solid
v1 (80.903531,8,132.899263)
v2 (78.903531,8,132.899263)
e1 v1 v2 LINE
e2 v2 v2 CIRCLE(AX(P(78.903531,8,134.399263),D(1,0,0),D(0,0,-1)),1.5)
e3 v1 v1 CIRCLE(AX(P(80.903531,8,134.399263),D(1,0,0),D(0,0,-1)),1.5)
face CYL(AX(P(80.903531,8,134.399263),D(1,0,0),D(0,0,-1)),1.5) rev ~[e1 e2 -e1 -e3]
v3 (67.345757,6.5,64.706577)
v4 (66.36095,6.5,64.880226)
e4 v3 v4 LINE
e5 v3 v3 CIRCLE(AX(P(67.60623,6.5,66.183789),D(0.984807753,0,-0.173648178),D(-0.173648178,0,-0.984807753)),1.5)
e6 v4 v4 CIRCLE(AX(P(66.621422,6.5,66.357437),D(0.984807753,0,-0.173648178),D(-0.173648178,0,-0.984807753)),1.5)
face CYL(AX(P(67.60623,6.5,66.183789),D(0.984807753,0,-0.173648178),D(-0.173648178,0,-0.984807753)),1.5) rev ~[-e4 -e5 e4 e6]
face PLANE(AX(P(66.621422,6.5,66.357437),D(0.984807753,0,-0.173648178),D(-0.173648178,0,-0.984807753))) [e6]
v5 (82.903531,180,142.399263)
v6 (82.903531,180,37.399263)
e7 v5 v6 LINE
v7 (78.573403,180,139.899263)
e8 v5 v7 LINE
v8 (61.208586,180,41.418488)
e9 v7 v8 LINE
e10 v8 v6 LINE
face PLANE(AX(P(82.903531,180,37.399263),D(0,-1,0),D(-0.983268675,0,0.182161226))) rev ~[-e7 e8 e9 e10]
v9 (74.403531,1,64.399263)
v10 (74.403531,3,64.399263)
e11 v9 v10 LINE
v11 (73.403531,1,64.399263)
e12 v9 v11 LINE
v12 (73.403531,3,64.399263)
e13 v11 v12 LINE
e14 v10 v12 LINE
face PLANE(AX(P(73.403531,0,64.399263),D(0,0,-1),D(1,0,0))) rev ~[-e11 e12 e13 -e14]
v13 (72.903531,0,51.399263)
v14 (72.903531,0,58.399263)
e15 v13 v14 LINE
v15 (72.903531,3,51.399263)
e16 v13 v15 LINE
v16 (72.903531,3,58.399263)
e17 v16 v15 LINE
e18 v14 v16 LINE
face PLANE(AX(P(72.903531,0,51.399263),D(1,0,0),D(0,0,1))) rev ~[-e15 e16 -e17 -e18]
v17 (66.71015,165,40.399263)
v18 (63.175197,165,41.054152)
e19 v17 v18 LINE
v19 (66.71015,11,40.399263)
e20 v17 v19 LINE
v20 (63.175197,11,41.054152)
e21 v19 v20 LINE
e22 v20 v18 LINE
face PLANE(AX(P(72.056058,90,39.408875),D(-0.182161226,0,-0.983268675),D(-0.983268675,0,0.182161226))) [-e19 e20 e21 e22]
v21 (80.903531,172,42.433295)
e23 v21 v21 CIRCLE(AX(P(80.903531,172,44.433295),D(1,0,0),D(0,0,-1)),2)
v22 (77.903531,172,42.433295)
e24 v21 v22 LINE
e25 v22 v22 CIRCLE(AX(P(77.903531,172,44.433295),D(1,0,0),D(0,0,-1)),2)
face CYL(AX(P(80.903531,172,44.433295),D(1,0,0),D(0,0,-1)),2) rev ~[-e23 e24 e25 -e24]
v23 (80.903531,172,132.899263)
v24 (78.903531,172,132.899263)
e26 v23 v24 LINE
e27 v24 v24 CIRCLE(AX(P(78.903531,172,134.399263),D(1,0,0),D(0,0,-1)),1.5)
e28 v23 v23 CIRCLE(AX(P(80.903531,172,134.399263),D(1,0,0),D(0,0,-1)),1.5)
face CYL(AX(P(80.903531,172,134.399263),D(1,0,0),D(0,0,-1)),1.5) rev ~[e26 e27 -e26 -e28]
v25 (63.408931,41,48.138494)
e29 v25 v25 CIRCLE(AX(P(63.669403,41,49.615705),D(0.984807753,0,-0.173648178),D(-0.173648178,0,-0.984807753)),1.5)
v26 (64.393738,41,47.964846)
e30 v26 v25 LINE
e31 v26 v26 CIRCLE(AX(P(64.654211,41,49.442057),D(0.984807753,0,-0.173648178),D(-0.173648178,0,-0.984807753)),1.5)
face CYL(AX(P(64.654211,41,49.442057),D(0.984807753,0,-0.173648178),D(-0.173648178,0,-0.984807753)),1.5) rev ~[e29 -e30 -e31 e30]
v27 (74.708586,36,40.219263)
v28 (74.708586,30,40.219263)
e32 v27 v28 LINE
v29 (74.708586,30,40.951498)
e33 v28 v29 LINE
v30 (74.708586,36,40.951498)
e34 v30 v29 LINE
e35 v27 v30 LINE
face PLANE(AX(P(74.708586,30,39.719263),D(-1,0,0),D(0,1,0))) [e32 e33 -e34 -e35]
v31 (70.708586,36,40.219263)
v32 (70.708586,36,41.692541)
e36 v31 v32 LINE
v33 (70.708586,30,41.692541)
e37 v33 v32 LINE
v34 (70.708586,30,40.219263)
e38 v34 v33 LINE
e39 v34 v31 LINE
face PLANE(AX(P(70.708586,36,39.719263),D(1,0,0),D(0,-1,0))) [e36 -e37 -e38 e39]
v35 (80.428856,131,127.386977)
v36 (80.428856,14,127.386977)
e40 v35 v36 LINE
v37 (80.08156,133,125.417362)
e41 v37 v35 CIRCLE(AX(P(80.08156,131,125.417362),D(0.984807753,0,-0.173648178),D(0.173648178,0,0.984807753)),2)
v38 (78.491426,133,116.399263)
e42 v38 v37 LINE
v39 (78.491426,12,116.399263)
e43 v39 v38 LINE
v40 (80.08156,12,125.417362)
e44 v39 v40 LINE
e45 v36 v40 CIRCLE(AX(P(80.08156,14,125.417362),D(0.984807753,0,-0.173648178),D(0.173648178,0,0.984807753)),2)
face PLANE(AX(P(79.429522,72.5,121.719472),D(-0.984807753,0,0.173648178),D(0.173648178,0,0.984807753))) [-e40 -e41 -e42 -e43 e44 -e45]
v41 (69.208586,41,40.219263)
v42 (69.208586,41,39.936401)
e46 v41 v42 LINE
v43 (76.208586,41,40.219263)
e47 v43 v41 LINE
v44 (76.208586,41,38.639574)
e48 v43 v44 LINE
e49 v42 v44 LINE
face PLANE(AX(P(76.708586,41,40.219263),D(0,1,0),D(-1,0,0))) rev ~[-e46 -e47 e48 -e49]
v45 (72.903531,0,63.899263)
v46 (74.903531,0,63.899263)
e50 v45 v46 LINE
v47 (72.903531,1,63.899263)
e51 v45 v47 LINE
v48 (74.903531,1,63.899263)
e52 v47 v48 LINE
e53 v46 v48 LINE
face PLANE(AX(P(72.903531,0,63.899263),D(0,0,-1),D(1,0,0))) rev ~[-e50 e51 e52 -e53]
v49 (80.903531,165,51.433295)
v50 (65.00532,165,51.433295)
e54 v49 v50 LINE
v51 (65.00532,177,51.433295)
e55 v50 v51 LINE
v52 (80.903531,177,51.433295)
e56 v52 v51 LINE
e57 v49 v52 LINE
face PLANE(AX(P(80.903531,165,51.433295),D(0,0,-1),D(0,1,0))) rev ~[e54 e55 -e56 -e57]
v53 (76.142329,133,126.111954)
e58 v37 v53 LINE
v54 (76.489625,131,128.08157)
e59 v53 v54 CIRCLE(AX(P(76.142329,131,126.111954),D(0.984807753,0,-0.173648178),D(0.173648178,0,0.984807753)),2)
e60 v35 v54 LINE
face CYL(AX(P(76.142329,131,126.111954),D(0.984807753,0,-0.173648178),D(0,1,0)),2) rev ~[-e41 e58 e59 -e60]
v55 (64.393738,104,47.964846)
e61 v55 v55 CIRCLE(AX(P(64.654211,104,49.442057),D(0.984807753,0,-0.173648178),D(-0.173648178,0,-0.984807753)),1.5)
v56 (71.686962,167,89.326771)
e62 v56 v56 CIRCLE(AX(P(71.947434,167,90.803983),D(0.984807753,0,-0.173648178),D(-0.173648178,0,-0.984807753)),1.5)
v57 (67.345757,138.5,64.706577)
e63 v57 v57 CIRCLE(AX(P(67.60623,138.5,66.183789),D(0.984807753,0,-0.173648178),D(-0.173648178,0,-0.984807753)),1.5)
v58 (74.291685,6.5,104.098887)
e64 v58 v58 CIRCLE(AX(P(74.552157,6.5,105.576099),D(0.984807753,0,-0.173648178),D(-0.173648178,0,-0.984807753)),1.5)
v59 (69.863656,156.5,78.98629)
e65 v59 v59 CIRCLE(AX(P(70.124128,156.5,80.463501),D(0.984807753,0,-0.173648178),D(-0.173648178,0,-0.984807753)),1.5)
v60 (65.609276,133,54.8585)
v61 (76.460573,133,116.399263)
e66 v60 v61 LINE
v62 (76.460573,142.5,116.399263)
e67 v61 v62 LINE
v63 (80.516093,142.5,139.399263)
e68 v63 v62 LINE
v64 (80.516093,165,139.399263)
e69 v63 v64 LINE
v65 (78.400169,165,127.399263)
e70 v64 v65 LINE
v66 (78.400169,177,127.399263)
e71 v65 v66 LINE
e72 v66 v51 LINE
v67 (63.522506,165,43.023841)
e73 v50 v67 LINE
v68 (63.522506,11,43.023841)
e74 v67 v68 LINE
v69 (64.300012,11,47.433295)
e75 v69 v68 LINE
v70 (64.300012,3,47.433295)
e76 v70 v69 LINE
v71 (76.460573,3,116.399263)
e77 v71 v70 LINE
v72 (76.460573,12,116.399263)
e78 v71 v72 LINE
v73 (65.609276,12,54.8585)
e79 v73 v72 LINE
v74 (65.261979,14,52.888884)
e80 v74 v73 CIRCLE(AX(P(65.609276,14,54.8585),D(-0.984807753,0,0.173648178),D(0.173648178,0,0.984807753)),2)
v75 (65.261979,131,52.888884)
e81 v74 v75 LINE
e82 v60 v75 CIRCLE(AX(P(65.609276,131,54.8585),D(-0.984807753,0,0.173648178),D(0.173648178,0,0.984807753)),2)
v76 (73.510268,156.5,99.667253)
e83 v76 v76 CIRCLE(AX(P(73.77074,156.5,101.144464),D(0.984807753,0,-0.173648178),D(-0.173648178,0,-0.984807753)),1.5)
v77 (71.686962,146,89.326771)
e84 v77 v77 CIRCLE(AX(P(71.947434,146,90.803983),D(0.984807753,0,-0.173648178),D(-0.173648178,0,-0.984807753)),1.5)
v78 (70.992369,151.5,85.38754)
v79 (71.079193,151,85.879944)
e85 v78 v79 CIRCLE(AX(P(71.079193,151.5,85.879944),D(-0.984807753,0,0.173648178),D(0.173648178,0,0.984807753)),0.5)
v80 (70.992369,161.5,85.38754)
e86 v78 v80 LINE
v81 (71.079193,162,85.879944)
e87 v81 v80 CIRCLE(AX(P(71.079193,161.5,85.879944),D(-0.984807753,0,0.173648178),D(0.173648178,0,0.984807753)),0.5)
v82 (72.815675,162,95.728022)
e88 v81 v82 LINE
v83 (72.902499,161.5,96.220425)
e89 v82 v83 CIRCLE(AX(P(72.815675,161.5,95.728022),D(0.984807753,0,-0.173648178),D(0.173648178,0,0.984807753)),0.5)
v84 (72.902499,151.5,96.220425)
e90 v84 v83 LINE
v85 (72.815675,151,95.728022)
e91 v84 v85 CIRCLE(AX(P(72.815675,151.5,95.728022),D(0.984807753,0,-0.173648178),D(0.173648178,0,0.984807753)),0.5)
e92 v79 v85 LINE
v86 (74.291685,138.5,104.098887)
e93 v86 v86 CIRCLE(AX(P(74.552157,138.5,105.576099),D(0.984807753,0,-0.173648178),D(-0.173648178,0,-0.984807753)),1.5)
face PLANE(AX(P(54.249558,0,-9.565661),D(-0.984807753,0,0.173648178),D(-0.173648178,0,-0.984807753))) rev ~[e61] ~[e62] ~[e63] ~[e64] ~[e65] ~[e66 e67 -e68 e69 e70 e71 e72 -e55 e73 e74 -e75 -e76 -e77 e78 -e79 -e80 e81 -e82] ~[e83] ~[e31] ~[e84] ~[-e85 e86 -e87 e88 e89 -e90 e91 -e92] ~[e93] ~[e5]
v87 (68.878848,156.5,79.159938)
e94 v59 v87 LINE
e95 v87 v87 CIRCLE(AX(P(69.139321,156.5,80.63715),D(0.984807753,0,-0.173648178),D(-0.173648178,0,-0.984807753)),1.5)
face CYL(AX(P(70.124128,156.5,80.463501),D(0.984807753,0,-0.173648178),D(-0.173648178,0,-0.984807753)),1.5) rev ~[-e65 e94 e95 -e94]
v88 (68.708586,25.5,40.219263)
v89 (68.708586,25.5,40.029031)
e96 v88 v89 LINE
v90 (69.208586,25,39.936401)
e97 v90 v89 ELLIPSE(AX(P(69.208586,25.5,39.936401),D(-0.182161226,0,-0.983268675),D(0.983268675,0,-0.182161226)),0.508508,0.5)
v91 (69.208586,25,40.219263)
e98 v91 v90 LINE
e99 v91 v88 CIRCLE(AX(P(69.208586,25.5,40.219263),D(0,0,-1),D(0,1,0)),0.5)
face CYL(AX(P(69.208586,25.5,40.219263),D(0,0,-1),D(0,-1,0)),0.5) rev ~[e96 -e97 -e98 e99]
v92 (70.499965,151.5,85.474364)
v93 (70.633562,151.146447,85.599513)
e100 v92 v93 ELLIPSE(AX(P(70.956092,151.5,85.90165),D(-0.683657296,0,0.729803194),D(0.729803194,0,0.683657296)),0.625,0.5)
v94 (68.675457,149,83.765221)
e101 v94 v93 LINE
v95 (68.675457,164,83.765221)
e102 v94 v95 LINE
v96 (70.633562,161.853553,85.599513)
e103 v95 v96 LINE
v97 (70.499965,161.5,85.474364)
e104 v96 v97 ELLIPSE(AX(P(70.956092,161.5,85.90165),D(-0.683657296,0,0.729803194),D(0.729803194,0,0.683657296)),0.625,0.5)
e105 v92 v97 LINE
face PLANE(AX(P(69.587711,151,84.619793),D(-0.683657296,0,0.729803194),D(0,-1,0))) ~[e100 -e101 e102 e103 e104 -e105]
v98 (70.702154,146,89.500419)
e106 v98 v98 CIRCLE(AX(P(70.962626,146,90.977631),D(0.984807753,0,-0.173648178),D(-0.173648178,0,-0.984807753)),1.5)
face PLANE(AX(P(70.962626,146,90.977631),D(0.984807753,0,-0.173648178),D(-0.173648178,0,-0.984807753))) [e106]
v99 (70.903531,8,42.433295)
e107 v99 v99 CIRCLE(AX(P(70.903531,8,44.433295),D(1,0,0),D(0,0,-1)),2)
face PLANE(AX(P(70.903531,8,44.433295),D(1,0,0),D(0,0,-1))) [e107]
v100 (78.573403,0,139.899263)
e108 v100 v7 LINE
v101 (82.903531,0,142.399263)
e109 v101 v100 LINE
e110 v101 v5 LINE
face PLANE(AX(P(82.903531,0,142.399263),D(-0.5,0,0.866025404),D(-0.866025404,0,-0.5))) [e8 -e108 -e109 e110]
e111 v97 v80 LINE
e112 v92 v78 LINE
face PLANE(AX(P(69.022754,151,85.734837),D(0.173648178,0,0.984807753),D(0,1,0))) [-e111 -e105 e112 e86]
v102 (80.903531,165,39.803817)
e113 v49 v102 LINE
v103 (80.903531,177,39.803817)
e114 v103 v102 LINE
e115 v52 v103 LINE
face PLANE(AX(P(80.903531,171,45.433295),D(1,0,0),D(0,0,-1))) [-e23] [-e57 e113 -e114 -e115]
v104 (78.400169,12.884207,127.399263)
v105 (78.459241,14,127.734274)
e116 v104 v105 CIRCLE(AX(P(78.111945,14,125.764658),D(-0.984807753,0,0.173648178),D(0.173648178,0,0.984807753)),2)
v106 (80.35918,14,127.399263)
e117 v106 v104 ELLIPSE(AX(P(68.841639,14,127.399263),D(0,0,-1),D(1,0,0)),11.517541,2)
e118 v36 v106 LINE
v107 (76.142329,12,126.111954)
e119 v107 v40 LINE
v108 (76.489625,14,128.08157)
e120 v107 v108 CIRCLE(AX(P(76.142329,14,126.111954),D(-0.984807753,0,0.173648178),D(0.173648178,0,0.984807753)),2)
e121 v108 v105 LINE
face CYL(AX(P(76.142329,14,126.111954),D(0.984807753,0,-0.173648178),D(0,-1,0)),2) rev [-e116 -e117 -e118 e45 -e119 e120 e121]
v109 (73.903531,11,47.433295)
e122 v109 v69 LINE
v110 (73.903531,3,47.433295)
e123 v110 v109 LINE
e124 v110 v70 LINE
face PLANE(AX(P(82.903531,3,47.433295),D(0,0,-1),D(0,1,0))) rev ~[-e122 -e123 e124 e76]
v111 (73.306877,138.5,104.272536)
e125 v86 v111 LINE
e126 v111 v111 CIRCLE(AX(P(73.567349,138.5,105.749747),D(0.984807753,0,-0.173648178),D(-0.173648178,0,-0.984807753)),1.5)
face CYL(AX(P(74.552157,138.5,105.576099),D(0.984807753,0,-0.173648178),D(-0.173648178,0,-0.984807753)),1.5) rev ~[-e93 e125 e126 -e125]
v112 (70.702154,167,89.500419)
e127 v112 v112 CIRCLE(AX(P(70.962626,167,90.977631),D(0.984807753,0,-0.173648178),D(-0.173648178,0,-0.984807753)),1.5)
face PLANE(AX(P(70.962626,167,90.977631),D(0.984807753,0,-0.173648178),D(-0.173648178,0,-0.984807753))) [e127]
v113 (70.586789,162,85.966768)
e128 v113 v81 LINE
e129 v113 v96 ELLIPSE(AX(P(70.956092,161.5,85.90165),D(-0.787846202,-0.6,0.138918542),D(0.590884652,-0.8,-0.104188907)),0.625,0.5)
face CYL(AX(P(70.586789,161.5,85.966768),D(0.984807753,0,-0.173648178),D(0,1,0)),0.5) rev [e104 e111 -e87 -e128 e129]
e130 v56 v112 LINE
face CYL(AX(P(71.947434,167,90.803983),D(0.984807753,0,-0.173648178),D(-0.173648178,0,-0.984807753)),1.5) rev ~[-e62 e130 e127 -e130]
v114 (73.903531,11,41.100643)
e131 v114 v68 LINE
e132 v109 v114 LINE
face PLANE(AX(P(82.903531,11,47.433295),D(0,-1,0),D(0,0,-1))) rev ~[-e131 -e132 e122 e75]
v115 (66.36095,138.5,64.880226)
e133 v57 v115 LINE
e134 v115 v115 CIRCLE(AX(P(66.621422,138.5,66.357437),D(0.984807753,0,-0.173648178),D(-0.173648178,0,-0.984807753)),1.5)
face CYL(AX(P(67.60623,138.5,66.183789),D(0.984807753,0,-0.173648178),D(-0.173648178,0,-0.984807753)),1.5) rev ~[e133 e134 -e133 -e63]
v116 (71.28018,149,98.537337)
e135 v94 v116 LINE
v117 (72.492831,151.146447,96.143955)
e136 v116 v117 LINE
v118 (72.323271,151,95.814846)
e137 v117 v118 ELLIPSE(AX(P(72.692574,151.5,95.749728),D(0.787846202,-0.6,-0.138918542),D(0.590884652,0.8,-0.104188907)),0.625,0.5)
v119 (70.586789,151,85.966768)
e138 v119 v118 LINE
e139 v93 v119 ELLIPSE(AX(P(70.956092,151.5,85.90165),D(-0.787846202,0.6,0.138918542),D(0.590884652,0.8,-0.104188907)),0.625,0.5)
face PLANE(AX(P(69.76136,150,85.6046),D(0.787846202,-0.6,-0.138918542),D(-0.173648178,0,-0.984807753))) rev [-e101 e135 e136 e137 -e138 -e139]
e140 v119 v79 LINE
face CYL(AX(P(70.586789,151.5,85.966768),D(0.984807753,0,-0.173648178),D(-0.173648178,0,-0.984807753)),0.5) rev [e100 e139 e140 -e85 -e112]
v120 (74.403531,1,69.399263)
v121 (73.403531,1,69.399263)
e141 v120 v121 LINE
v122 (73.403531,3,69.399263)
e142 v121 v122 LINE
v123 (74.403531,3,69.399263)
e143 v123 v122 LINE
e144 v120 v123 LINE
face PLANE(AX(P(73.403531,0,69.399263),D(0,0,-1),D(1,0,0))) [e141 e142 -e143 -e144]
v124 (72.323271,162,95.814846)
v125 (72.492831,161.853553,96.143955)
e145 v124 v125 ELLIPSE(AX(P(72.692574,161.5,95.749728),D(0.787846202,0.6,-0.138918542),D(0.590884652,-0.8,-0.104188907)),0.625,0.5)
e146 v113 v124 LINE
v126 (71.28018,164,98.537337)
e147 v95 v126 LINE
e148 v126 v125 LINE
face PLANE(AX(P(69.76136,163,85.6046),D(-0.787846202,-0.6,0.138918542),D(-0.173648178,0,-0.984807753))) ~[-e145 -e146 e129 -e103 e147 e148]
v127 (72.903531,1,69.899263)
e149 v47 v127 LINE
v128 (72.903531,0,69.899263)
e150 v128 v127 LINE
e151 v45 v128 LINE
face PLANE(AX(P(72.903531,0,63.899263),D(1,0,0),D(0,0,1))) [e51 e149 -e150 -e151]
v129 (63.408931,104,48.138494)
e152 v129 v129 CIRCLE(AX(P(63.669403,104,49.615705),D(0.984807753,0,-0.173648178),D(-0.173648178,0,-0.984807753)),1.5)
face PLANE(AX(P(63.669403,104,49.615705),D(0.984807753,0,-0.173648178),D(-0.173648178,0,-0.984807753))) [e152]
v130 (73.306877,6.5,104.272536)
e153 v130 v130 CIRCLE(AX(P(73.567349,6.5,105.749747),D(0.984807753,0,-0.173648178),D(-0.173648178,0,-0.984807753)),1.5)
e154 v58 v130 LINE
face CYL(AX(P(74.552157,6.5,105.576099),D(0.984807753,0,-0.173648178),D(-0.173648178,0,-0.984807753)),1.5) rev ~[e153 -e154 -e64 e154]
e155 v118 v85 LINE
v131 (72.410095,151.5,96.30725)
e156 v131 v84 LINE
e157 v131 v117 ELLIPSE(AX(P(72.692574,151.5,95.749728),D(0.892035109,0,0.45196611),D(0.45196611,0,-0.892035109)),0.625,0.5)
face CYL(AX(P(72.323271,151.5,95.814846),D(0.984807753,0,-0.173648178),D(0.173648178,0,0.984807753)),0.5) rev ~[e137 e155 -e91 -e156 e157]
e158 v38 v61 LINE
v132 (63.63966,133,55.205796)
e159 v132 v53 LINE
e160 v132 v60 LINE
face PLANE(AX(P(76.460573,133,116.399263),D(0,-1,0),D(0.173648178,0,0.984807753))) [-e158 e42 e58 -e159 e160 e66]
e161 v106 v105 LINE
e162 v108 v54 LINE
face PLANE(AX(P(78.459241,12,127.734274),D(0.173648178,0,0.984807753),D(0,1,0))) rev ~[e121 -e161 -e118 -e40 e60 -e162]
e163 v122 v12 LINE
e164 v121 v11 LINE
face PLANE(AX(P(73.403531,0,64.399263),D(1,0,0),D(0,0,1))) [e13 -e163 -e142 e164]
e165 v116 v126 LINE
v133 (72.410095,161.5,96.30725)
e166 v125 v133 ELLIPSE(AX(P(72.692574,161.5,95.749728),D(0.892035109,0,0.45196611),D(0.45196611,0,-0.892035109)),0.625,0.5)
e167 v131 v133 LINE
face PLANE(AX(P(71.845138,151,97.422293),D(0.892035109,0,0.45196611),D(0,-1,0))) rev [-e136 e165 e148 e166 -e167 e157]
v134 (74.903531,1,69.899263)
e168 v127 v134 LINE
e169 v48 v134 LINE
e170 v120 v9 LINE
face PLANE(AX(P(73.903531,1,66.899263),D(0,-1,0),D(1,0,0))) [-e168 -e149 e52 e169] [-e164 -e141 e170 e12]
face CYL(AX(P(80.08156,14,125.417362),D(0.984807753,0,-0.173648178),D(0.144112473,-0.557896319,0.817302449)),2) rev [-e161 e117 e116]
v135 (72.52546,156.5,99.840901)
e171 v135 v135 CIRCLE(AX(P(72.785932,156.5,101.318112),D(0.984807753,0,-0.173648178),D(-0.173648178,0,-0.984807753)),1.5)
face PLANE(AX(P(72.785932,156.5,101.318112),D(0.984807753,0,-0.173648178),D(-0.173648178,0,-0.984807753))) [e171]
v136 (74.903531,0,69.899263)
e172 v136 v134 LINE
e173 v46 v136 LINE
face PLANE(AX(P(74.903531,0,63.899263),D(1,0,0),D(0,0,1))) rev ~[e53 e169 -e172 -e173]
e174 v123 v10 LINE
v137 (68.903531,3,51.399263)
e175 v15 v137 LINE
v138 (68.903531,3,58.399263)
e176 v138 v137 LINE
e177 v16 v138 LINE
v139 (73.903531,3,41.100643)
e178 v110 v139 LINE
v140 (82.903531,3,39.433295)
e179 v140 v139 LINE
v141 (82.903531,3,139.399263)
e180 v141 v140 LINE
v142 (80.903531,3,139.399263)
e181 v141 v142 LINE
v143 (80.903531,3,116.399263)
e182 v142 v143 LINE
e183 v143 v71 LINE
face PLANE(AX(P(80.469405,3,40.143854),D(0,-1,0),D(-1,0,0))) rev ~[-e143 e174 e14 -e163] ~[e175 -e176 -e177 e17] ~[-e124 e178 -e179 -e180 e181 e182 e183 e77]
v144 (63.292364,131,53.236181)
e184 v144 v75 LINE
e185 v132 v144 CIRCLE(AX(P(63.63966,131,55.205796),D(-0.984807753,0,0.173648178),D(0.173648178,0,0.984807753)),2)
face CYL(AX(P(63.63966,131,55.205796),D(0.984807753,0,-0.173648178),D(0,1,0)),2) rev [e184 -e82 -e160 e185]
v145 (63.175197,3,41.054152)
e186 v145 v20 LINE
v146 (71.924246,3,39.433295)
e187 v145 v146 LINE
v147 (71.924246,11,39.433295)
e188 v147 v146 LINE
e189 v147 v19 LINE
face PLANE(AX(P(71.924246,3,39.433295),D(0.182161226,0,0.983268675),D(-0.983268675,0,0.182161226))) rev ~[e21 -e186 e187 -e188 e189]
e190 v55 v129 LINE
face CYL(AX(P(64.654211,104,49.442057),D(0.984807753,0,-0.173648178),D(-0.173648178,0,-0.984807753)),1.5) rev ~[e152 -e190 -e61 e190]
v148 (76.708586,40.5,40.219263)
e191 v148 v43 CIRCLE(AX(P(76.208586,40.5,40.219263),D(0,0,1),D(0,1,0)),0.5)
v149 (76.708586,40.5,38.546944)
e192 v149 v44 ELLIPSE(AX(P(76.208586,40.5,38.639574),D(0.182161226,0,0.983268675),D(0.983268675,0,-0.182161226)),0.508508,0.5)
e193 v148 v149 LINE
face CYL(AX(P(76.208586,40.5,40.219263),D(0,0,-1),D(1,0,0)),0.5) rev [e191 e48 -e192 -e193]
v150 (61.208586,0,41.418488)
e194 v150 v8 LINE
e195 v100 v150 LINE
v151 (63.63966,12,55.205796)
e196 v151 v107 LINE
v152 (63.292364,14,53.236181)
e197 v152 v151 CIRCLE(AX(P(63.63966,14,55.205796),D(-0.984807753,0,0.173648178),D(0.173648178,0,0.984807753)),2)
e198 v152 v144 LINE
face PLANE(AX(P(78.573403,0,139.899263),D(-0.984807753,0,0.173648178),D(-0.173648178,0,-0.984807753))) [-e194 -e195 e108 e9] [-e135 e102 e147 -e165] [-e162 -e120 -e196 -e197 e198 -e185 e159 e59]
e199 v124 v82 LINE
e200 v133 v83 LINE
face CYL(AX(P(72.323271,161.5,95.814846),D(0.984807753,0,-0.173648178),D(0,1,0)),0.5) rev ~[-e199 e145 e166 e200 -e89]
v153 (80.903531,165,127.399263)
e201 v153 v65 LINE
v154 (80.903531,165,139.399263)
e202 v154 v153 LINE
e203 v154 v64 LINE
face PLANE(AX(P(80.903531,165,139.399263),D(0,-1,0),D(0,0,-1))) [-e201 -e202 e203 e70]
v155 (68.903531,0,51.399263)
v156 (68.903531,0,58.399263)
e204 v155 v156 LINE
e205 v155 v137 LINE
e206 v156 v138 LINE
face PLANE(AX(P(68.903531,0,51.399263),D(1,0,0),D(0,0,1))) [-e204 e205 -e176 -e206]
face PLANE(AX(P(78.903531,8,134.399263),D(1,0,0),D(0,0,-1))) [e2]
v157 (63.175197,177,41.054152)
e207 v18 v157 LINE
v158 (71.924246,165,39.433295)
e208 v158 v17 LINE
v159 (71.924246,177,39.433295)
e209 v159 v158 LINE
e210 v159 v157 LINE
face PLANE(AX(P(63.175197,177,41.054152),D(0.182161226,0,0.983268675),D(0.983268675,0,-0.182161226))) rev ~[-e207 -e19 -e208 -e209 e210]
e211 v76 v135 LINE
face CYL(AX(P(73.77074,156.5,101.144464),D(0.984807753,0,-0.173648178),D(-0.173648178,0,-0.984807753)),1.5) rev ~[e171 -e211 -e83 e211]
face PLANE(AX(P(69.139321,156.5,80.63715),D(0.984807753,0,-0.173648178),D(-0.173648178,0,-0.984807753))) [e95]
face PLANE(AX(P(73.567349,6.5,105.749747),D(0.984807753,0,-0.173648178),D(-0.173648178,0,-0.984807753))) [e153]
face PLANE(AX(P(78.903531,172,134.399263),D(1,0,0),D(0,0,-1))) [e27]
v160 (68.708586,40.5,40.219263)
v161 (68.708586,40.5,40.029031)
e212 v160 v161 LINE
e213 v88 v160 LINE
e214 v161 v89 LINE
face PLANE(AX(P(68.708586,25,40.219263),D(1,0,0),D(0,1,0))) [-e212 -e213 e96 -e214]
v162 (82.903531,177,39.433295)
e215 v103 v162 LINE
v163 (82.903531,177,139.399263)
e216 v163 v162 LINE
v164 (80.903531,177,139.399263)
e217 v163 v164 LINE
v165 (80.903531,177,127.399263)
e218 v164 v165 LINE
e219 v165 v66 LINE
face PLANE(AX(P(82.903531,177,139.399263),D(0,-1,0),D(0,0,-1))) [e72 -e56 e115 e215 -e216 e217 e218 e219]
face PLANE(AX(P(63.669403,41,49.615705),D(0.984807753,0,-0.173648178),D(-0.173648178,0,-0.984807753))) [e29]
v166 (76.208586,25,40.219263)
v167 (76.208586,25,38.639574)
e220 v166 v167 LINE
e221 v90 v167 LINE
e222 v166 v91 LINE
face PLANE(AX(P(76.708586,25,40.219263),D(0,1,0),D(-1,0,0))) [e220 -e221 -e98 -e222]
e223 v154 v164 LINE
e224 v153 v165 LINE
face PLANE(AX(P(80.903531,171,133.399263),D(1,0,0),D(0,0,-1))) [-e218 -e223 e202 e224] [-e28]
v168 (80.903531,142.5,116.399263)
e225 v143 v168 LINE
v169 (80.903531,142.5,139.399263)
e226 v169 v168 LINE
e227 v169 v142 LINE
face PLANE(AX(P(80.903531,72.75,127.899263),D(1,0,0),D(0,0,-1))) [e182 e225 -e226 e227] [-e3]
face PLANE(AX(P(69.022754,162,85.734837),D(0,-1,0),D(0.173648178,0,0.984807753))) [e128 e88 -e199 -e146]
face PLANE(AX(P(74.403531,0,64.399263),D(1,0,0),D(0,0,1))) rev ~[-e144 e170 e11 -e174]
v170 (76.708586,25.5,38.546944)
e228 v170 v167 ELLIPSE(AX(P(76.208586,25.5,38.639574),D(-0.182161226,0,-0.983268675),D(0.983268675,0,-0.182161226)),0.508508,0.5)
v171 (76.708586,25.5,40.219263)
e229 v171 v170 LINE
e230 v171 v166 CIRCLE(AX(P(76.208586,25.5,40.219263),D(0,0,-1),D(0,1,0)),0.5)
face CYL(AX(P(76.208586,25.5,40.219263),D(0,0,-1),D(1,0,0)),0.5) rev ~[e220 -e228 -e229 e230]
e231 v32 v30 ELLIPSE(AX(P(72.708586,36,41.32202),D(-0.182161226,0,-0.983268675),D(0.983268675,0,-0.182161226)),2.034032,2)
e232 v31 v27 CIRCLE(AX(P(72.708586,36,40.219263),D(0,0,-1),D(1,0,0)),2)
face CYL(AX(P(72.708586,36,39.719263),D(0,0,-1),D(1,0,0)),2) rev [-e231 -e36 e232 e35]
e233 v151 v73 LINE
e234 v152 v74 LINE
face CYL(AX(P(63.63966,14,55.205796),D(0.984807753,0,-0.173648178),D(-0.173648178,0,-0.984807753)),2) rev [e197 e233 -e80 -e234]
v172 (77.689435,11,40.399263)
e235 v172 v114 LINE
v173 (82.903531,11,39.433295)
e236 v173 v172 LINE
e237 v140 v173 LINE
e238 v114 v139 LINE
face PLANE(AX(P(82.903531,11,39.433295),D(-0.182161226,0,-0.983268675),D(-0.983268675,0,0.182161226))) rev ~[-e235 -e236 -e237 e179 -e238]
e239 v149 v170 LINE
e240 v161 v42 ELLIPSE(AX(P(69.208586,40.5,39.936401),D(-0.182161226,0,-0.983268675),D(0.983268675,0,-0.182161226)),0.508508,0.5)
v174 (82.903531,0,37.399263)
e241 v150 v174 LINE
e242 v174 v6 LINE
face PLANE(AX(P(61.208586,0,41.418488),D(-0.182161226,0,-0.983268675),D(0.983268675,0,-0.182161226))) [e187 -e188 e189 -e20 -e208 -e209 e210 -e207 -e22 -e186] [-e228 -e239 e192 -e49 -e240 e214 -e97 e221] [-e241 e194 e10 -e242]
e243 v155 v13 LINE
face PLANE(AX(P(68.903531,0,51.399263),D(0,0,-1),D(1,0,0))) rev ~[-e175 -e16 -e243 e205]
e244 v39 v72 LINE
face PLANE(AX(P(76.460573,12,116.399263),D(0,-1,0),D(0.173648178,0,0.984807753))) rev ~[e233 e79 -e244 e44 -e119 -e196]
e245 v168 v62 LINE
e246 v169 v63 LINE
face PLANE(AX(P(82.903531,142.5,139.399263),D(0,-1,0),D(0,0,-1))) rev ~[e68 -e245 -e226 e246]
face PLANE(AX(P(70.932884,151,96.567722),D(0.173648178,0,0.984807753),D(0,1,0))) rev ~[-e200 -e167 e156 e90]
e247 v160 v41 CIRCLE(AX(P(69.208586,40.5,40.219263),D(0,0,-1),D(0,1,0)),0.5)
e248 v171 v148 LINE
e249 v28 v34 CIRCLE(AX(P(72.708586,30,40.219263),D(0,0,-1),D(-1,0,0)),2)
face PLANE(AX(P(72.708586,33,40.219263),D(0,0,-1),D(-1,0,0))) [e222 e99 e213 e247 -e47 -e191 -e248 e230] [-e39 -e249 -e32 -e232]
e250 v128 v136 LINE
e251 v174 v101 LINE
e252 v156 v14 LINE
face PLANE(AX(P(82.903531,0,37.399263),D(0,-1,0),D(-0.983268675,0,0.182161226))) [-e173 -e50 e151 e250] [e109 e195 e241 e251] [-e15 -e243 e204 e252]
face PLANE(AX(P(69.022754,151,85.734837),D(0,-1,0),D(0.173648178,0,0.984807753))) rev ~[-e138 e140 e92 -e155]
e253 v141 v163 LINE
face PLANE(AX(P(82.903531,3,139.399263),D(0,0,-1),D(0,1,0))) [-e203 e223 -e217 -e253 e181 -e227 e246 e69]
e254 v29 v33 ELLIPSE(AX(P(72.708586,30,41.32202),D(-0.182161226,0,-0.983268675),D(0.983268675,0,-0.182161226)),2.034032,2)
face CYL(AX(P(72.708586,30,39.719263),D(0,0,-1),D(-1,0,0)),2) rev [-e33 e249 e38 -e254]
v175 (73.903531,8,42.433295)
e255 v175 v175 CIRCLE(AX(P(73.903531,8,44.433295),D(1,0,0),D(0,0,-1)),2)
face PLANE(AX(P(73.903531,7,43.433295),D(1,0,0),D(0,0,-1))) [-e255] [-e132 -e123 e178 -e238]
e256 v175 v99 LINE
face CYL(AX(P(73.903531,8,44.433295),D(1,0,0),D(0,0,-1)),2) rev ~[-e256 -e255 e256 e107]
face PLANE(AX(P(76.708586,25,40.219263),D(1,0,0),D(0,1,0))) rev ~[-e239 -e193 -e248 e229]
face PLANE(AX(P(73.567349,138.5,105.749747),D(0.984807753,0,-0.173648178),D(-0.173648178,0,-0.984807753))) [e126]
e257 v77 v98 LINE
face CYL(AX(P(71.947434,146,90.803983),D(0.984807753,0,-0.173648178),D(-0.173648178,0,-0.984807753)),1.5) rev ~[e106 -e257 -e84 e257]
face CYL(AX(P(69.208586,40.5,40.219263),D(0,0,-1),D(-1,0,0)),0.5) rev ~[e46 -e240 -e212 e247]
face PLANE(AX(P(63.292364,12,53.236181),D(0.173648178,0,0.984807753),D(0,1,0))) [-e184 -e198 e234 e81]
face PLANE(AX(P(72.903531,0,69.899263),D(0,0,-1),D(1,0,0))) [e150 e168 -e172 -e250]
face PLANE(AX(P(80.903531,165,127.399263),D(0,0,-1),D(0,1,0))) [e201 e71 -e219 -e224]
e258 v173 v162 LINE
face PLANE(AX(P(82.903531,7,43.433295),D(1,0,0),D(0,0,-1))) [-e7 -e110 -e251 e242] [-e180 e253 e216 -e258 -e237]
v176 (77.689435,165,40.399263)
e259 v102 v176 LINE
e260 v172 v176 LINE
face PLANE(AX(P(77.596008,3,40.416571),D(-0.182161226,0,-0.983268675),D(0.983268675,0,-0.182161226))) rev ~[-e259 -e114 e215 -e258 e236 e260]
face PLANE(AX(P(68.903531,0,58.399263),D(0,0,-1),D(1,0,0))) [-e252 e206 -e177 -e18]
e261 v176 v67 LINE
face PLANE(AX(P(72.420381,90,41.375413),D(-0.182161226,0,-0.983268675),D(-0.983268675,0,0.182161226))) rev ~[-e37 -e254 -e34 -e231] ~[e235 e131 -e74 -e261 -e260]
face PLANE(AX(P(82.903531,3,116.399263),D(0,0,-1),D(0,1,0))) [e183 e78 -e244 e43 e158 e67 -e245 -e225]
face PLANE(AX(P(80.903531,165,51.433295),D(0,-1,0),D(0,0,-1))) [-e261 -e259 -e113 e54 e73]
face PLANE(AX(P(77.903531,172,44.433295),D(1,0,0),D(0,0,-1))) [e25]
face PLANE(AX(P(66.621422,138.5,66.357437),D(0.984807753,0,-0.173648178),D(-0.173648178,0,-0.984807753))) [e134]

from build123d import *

# Parameters (mm, degrees)
EXTRUDE_1_DEPTH      = 180
SKETCH_5_W           = 76
SKETCH_5_H           = 121
CUT_EXTRUDE_2_DEPTH  = 2
CUT_EXTRUDE_3_REACH  = 232.539
SKETCH_7_W           = 99
SKETCH_7_H           = 174
SKETCH_10_R          = 1.5
CUT_EXTRUDE_5_DEPTH  = 1
SKETCH_11_R          = 1.5
CUT_EXTRUDE_6_DEPTH  = 1
EXTRUDE_3_REACH      = 232.539
SKETCH_12_W          = 23
SKETCH_12_H          = 139.5
SKETCH_13_W          = 11.509871418
SKETCH_13_H          = 121
CUT_EXTRUDE_7_DEPTH  = 2
SKETCH_14_W          = 11
SKETCH_14_H          = 11
CUT_EXTRUDE_8_DEPTH  = 2
SKETCH_17_W          = 22.064106518
SKETCH_17_H          = 180
EXTRUDE_9_DEPTH      = 2
CUT_EXTRUDE_9_DEPTH  = 180
CUT_EXTRUDE_10_DEPTH = 174
SKETCH_20_W          = 23
SKETCH_20_H          = 139.5
CUT_EXTRUDE_11_DEPTH = 2
SKETCH_21_R          = 1.5
CUT_EXTRUDE_12_DEPTH = 1
EXTRUDE_10_REACH     = 232.359
SKETCH_23_W          = 12
SKETCH_23_H          = 12
FILLET_4_R           = 2
CUT_EXTRUDE_15_REACH = 243.825
EXTRUDE_11_REACH     = 232.539
SKETCH_27_W          = 8
SKETCH_27_H          = 8
SKETCH_28_W          = 8
SKETCH_28_H          = 8
CUT_EXTRUDE_16_DEPTH = 9
EXTRUDE_12_DEPTH     = 8
CUT_EXTRUDE_17_REACH = 243.825
CUT_EXTRUDE_18_REACH = 246.03
SKETCH_31_W          = 4
SKETCH_31_H          = 7
CUT_EXTRUDE_23_REACH = 225.195
CUT_EXTRUDE_25_REACH = 224.966
SKETCH_35_W          = 8
SKETCH_35_H          = 16
FILLET_5_R           = 0.5
CUT_EXTRUDE_26_REACH = 246.03
SKETCH_36_W          = 1
SKETCH_36_H          = 5
SKETCH_37_W          = 2
SKETCH_37_H          = 6
CUT_EXTRUDE_27_DEPTH = 1
SKETCH_38_R          = 2
CUT_EXTRUDE_28_DEPTH = 3
SKETCH_39_R          = 2
CUT_EXTRUDE_30_DEPTH = 3
SKETCH_40_R          = 1.5
CUT_EXTRUDE_31_DEPTH = 2
CUT_EXTRUDE_START    = -2
CUT_EXTRUDE_34_DEPTH = 2
CHAMFER_1_SIZE       = 2
CHAMFER_1_SIZE2      = 1.5
FILLET_6_R           = 0.5


with BuildPart() as part:
    # 草图1 → 凸台-拉伸1 (new body)
    with BuildSketch(Plane(origin=(0, 0, 0), x_dir=(1, 0, 0), z_dir=(0, 1, 0))):
        Polygon((82.903530501, -37.399262949), (82.903530501, -142.399262949), (78.573403482, -139.899262949), (61.208585715, -41.418487648), align=None)
    extrude(amount=EXTRUDE_1_DEPTH)

    # 草图5 → 切除-拉伸2 (cut)
    with BuildSketch(Plane(origin=(52.279942479, 0, -9.218364409), x_dir=(0.17364817766692414, 0, 0.9848077530122091), z_dir=(-0.9848077530122091, 0, 0.17364817766692414))):
        with Locations((101.418007121, 72.5)):
            Rectangle(SKETCH_5_W, SKETCH_5_H)
    extrude(amount=-CUT_EXTRUDE_2_DEPTH, mode=Mode.SUBTRACT)

    # 切除-拉伸3: up to this plane
    cut_extrude_3_end = Plane(origin=(54.249557985, 0, -9.565660764), z_dir=(-0.9848077530122091, 0, 0.17364817766692406))
    # 草图7 → 切除-拉伸3 (cut, up to the surface)
    with BuildSketch(Plane(origin=(82.903530501, 0, 0), x_dir=(0, 0, -1), z_dir=(1, 0, 0)), mode=Mode.PRIVATE) as cut_extrude_3_sk1:
        with Locations((-89.899262949, 90)):
            Rectangle(SKETCH_7_W, SKETCH_7_H)
    cut_extrude_3_tool1 = split(extrude(cut_extrude_3_sk1.sketch, amount=-CUT_EXTRUDE_3_REACH, mode=Mode.PRIVATE), bisect_by=cut_extrude_3_end, keep=Keep.BOTH, mode=Mode.PRIVATE)
    add(cut_extrude_3_tool1.solids().sort_by_distance((82.903531, 90, 89.899263))[0], mode=Mode.SUBTRACT)

    # 草图10 → 切除-拉伸5 (cut)
    with BuildSketch(Plane(origin=(54.249557985, 0, -9.565660764), x_dir=(-0.1736481776669242, 0, -0.9848077530122091), z_dir=(0.9848077530122091, 0, -0.1736481776669242))):
        with Locations((-59.918007121, 104)):
            Circle(SKETCH_10_R)
        with Locations((-59.918007121, 41)):
            Circle(SKETCH_10_R)
    extrude(amount=-CUT_EXTRUDE_5_DEPTH, mode=Mode.SUBTRACT)

    # 草图11 → 切除-拉伸6 (cut)
    with BuildSketch(Plane(origin=(54.249557985, 0, -9.565660764), x_dir=(-0.1736481776669242, 0, -0.9848077530122091), z_dir=(0.9848077530122091, 0, -0.1736481776669242))):
        with Locations((-116.918007121, 138.5)):
            Circle(SKETCH_11_R)
        with Locations((-76.918007121, 138.5)):
            Circle(SKETCH_11_R)
        with Locations((-116.918007121, 6.5)):
            Circle(SKETCH_11_R)
        with Locations((-76.918007121, 6.5)):
            Circle(SKETCH_11_R)
    extrude(amount=-CUT_EXTRUDE_6_DEPTH, mode=Mode.SUBTRACT)

    # 凸台-拉伸3: up to this plane
    extrude_3_end = Plane(origin=(54.249557985, 0, -9.565660764), z_dir=(-0.9848077530122091, 0, 0.17364817766692406))
    # 草图12 → 凸台-拉伸3 (add, up to the surface)
    with BuildSketch(Plane(origin=(82.903530501, 0, 0), x_dir=(0, 0, -1), z_dir=(1, 0, 0)), mode=Mode.PRIVATE) as extrude_3_sk1:
        with Locations((-127.899262949, 72.75)):
            Rectangle(SKETCH_12_W, SKETCH_12_H)
    extrude_3_tool1 = split(extrude(extrude_3_sk1.sketch, amount=-EXTRUDE_3_REACH, mode=Mode.PRIVATE), bisect_by=extrude_3_end, keep=Keep.BOTH, mode=Mode.PRIVATE)
    add(extrude_3_tool1.solids().sort_by_distance((82.903531, 72.75, 127.899263))[0])

    # 草图13 → 切除-拉伸7 (cut)
    with BuildSketch(Plane(origin=(54.249557985, 0, -9.565660764), x_dir=(0.1736481776669242, 0, 0.9848077530122091), z_dir=(-0.9848077530122091, 0, 0.1736481776669242))):
        with Locations((133.663071412, 72.5)):
            Rectangle(SKETCH_13_W, SKETCH_13_H)
    extrude(amount=-CUT_EXTRUDE_7_DEPTH, mode=Mode.SUBTRACT)

    # 草图14 → 切除-拉伸8 (cut)
    with BuildSketch(Plane(origin=(52.279942479, 0, -9.218364409), x_dir=(0.17364817766692414, 0, 0.9848077530122091), z_dir=(-0.9848077530122091, 0, 0.17364817766692414))):
        with Locations((101.918007121, 156.5)):
            Rectangle(SKETCH_14_W, SKETCH_14_H)
    extrude(amount=-CUT_EXTRUDE_8_DEPTH, mode=Mode.SUBTRACT)

    # 草图17 → 凸台-拉伸9 (add)
    with BuildSketch(Plane(origin=(9.44967418, 0, 51.007389472), x_dir=(-0.9832686752161511, 0, 0.18216122622192457), z_dir=(-0.18216122622192457, 0, -0.9832686752161512))):
        with Locations((-63.671695749, 90)):
            Rectangle(SKETCH_17_W, SKETCH_17_H)
    extrude(amount=-EXTRUDE_9_DEPTH)

    # 草图18 → 切除-拉伸9 (cut)
    with BuildSketch(Plane.XZ):
        Polygon((82.903530501, 39.433295), (82.903530501, 37.399262949), (83.267852953, 39.3658003), align=None)
    extrude(amount=-CUT_EXTRUDE_9_DEPTH, mode=Mode.SUBTRACT)

    # 草图19 → 切除-拉伸10 (cut)
    with BuildSketch(Plane(origin=(0, 3, 0), x_dir=(1, 0, 0), z_dir=(0, 1, 0))):
        Polygon((77.596007668, -40.416571384), (82.903530501, -39.433295), (82.903530501, -40.399262949), align=None)
    extrude(amount=CUT_EXTRUDE_10_DEPTH, mode=Mode.SUBTRACT)

    # 草图20 → 切除-拉伸11 (cut)
    with BuildSketch(Plane(origin=(82.903530501, 0, 0), x_dir=(0, 0, -1), z_dir=(1, 0, 0))):
        with Locations((-127.899262949, 72.75)):
            Rectangle(SKETCH_20_W, SKETCH_20_H)
    extrude(amount=-CUT_EXTRUDE_11_DEPTH, mode=Mode.SUBTRACT)

    # 草图21 → 切除-拉伸12 (cut)
    with BuildSketch(Plane(origin=(54.249557985, 0, -9.565660764), x_dir=(-0.17364817766692422, 0, -0.9848077530122091), z_dir=(0.9848077530122092, 0, -0.17364817766692422))):
        with Locations((-112.418007121, 156.5)):
            Circle(SKETCH_21_R)
        with Locations((-91.418007121, 156.5)):
            Circle(SKETCH_21_R)
        with Locations((-101.918007121, 146)):
            Circle(SKETCH_21_R)
        with Locations((-101.918007121, 167)):
            Circle(SKETCH_21_R)
    extrude(amount=-CUT_EXTRUDE_12_DEPTH, mode=Mode.SUBTRACT)

    # 凸台-拉伸10: up to this plane
    extrude_10_end = Plane(origin=(54.249557985, 0, -9.565660764), z_dir=(-0.9848077530122091, 0, 0.17364817766692406))
    # 草图23 → 凸台-拉伸10 (add, up to the surface)
    with BuildSketch(Plane(origin=(80.903530501, 0, 0), x_dir=(0, 0, -1), z_dir=(1, 0, 0)), mode=Mode.PRIVATE) as extrude_10_sk1:
        with Locations((-133.399262949, 9)):
            Rectangle(SKETCH_23_W, SKETCH_23_H)
    extrude_10_tool1 = split(extrude(extrude_10_sk1.sketch, amount=-EXTRUDE_10_REACH, mode=Mode.PRIVATE), bisect_by=extrude_10_end, keep=Keep.BOTH, mode=Mode.PRIVATE)
    add(extrude_10_tool1.solids().sort_by_distance((80.903531, 9, 133.399263))[0])
    # 草图23 → 凸台-拉伸10 (add, up to the surface)
    with BuildSketch(Plane(origin=(80.903530501, 0, 0), x_dir=(0, 0, -1), z_dir=(1, 0, 0)), mode=Mode.PRIVATE) as extrude_10_sk2:
        with Locations((-45.433295, 171)):
            Rectangle(SKETCH_23_W, SKETCH_23_H)
    extrude_10_tool2 = split(extrude(extrude_10_sk2.sketch, amount=-EXTRUDE_10_REACH, mode=Mode.PRIVATE), bisect_by=extrude_10_end, keep=Keep.BOTH, mode=Mode.PRIVATE)
    add(extrude_10_tool2.solids().sort_by_distance((80.903531, 171, 45.433295))[0])
    # 草图23 → 凸台-拉伸10 (add, up to the surface)
    with BuildSketch(Plane(origin=(80.903530501, 0, 0), x_dir=(0, 0, -1), z_dir=(1, 0, 0)), mode=Mode.PRIVATE) as extrude_10_sk3:
        with Locations((-133.399262949, 171)):
            Rectangle(SKETCH_23_W, SKETCH_23_H)
    extrude_10_tool3 = split(extrude(extrude_10_sk3.sketch, amount=-EXTRUDE_10_REACH, mode=Mode.PRIVATE), bisect_by=extrude_10_end, keep=Keep.BOTH, mode=Mode.PRIVATE)
    add(extrude_10_tool3.solids().sort_by_distance((80.903531, 171, 133.399263))[0])

    # 圆角4
    fillet_4_edges = [part.edges().sort_by_distance(p)[0] for p in [
        (78.459240856, 133, 127.734273558),
        (64.2771716, 12, 53.062532507),
        (64.2771716, 133, 53.062532507),
        (77.474433103, 12, 127.907921736),
    ]]
    fillet(fillet_4_edges, radius=FILLET_4_R)

    # 草图26 → 切除-拉伸15 (cut, up to next)
    with BuildSketch(Plane(origin=(0, 177, 0), x_dir=(1, 0, 0), z_dir=(0, 1, 0)), mode=Mode.PRIVATE) as cut_extrude_15_sk1:
        Polygon((63.175196657, -41.054151562), (71.924245603, -39.433295), (62.889395913, -39.433295), align=None)
    cut_extrude_15_tool1 = extrude(cut_extrude_15_sk1.sketch, amount=-CUT_EXTRUDE_15_REACH, mode=Mode.PRIVATE) & part.part
    add(cut_extrude_15_tool1.solids().sort_by_distance((65.996279, 177, 39.973581))[0], mode=Mode.SUBTRACT)

    # 凸台-拉伸11: up to this plane
    extrude_11_end = Plane(origin=(54.249557985, 0, -9.565660764), z_dir=(-0.9848077530122091, 0, 0.17364817766692406))
    # 草图27 → 凸台-拉伸11 (add, up to the surface)
    with BuildSketch(Plane(origin=(82.903530501, 0, 0), x_dir=(0, 0, -1), z_dir=(1, 0, 0)), mode=Mode.PRIVATE) as extrude_11_sk1:
        with Locations((-43.433295, 7)):
            Rectangle(SKETCH_27_W, SKETCH_27_H)
    extrude_11_tool1 = split(extrude(extrude_11_sk1.sketch, amount=-EXTRUDE_11_REACH, mode=Mode.PRIVATE), bisect_by=extrude_11_end, keep=Keep.BOTH, mode=Mode.PRIVATE)
    add(extrude_11_tool1.solids().sort_by_distance((82.903531, 7, 43.433295))[0])

    # 草图28 → 切除-拉伸16 (cut)
    with BuildSketch(Plane(origin=(82.903530501, 0, 0), x_dir=(0, 0, -1), z_dir=(1, 0, 0))):
        with Locations((-43.433295, 7)):
            Rectangle(SKETCH_28_W, SKETCH_28_H)
    extrude(amount=-CUT_EXTRUDE_16_DEPTH, mode=Mode.SUBTRACT)

    # 草图29 → 凸台-拉伸12 (add)
    with BuildSketch(Plane.XZ.offset(-11)):
        Polygon((73.903530501, 41.100642977), (73.903530501, 39.433295), (82.903530501, 39.433295), align=None)
    extrude(amount=EXTRUDE_12_DEPTH)

    # 草图30 → 切除-拉伸17 (cut, up to next)
    with BuildSketch(Plane.XZ.offset(-3), mode=Mode.PRIVATE) as cut_extrude_17_sk1:
        Polygon((71.924245603, 39.433295), (63.175196657, 41.054151562), (62.889395913, 39.433295), align=None)
    cut_extrude_17_tool1 = extrude(cut_extrude_17_sk1.sketch, amount=-CUT_EXTRUDE_17_REACH, mode=Mode.PRIVATE) & part.part
    add(cut_extrude_17_tool1.solids().sort_by_distance((65.996279, 3, 39.973581))[0], mode=Mode.SUBTRACT)

    # 草图31 → 切除-拉伸18 (cut, up to next)
    with BuildSketch(Plane.XZ, mode=Mode.PRIVATE) as cut_extrude_18_sk1:
        with Locations((70.903530501, 54.899262949)):
            Rectangle(SKETCH_31_W, SKETCH_31_H)
    cut_extrude_18_tool1 = extrude(cut_extrude_18_sk1.sketch, amount=-CUT_EXTRUDE_18_REACH, mode=Mode.PRIVATE) & part.part
    add(cut_extrude_18_tool1.solids().sort_by_distance((70.903531, 0, 54.899263))[0], mode=Mode.SUBTRACT)

    # 切除-拉伸23: up to this plane
    cut_extrude_23_end = Plane(origin=(9.813996633, 0, 52.973926823), z_dir=(-0.18216122622192446, 0, -0.9832686752161511))
    # 草图32 → 切除-拉伸23 (cut, up to the surface)
    with BuildSketch(Plane(origin=(0, 0, 39.719262949), x_dir=(-1, 0, 0), z_dir=(0, 0, -1)), mode=Mode.PRIVATE) as cut_extrude_23_sk1:
        with BuildLine():
            Line((-70.708585715, 36), (-70.708585715, 30))
            ThreePointArc((-70.708585715, 30), (-72.708585715, 28), (-74.708585715, 30))
            Line((-74.708585715, 30), (-74.708585715, 36))
            ThreePointArc((-74.708585715, 36), (-72.708585715, 38), (-70.708585715, 36))
        make_face()
    cut_extrude_23_tool1 = split(extrude(cut_extrude_23_sk1.sketch, amount=-CUT_EXTRUDE_23_REACH, mode=Mode.PRIVATE), bisect_by=cut_extrude_23_end, keep=Keep.BOTH, mode=Mode.PRIVATE)
    add(cut_extrude_23_tool1.solids().sort_by_distance((72.708586, 33, 39.719263))[0], mode=Mode.SUBTRACT)

    # 切除-拉伸25: up to this plane
    cut_extrude_25_end = Plane(origin=(61.208585715, 180, 41.418487648), z_dir=(0.18216122622192454, 0, 0.9832686752161511))
    # 草图35 → 切除-拉伸25 (cut, up to the surface)
    with BuildSketch(Plane(origin=(0, 0, 40.219262949), x_dir=(-1, 0, 0), z_dir=(0, 0, -1)), mode=Mode.PRIVATE) as cut_extrude_25_sk1:
        with Locations((-72.708585715, 33)):
            Rectangle(SKETCH_35_W, SKETCH_35_H)
    cut_extrude_25_tool1 = split(extrude(cut_extrude_25_sk1.sketch, amount=CUT_EXTRUDE_25_REACH, mode=Mode.PRIVATE), bisect_by=cut_extrude_25_end, keep=Keep.BOTH, mode=Mode.PRIVATE)
    add(cut_extrude_25_tool1.solids().sort_by_distance((72.708586, 33, 40.219263))[0], mode=Mode.SUBTRACT)

    # 圆角5
    fillet_5_edges = [part.edges().sort_by_distance(p)[0] for p in [
        (68.708585715, 41, 40.124146975),
        (68.708585715, 25, 40.124146975),
        (76.708585715, 25, 39.38310343),
        (76.708585715, 41, 39.38310343),
    ]]
    fillet(fillet_5_edges, radius=FILLET_5_R)

    # 草图36 → 切除-拉伸26 (cut, up to next)
    with BuildSketch(Plane.XZ, mode=Mode.PRIVATE) as cut_extrude_26_sk1:
        with Locations((73.903530501, 66.899262949)):
            Rectangle(SKETCH_36_W, SKETCH_36_H)
    cut_extrude_26_tool1 = extrude(cut_extrude_26_sk1.sketch, amount=-CUT_EXTRUDE_26_REACH, mode=Mode.PRIVATE) & part.part
    add(cut_extrude_26_tool1.solids().sort_by_distance((73.903531, 0, 66.899263))[0], mode=Mode.SUBTRACT)

    # 草图37 → 切除-拉伸27 (cut)
    with BuildSketch(Plane.XZ):
        with Locations((73.903530501, 66.899262949)):
            Rectangle(SKETCH_37_W, SKETCH_37_H)
    extrude(amount=-CUT_EXTRUDE_27_DEPTH, mode=Mode.SUBTRACT)

    # 草图38 → 切除-拉伸28 (cut)
    with BuildSketch(Plane(origin=(73.903530501, 0, 0), x_dir=(0, 0, -1), z_dir=(1, 0, 0))):
        with Locations((-44.433295, 8)):
            Circle(SKETCH_38_R)
    extrude(amount=-CUT_EXTRUDE_28_DEPTH, mode=Mode.SUBTRACT)

    # 草图39 → 切除-拉伸30 (cut)
    with BuildSketch(Plane(origin=(80.903530501, 0, 0), x_dir=(0, 0, -1), z_dir=(1, 0, 0))):
        with Locations((-44.433295, 172)):
            Circle(SKETCH_39_R)
    extrude(amount=-CUT_EXTRUDE_30_DEPTH, mode=Mode.SUBTRACT)

    # 草图40 → 切除-拉伸31 (cut)
    with BuildSketch(Plane(origin=(80.903530501, 0, 0), x_dir=(0, 0, -1), z_dir=(1, 0, 0))):
        with Locations((-134.399262949, 172)):
            Circle(SKETCH_40_R)
        with Locations((-134.399262949, 8)):
            Circle(SKETCH_40_R)
    extrude(amount=-CUT_EXTRUDE_31_DEPTH, mode=Mode.SUBTRACT)

    # 草图42 → 切除-拉伸34 (cut)
    with BuildSketch(Plane(origin=(54.249557985, 0, -9.565660764), x_dir=(0.17364817766692428, 0, 0.9848077530122091), z_dir=(-0.9848077530122092, 0, 0.17364817766692428)).offset(CUT_EXTRUDE_START)):
        with BuildLine():
            Line((139.077828434, 15), (139.077828434, 12.884207363))
            ThreePointArc((139.077828434, 12.884207363), (139.331073067, 13.416751608), (139.418007121, 14))
            Line((139.418007121, 14), (139.418007121, 15))
            Line((139.418007121, 15), (139.077828434, 15))
        make_face()
    extrude(amount=CUT_EXTRUDE_34_DEPTH, mode=Mode.SUBTRACT)

    # 倒角1
    chamfer_1_edges = [part.edges().sort_by_distance(p)[0] for p in [
        (69.02275371, 156.5, 85.734836534),
        (69.977818687, 151, 91.151279175),
        (70.932883665, 156.5, 96.567721817),
        (69.977818687, 162, 91.151279175),
    ]]
    chamfer_1_side = [part.faces().sort_by_distance(p)[0] for p in [
        (76.847188832, 72.5, 130.10941319),
    ]]
    chamfer(chamfer_1_edges, length=CHAMFER_1_SIZE, length2=CHAMFER_1_SIZE2, reference=chamfer_1_side[0])

    # 圆角6
    fillet_6_edges = [part.edges().sort_by_distance(p)[0] for p in [
        (70.746167278, 151, 85.430952223),
        (70.746167278, 162, 85.430952223),
        (72.656297232, 162, 96.263837506),
        (72.656297232, 151, 96.263837506),
    ]]
    fillet(fillet_6_edges, radius=FILLET_6_R)


solid = part.part
